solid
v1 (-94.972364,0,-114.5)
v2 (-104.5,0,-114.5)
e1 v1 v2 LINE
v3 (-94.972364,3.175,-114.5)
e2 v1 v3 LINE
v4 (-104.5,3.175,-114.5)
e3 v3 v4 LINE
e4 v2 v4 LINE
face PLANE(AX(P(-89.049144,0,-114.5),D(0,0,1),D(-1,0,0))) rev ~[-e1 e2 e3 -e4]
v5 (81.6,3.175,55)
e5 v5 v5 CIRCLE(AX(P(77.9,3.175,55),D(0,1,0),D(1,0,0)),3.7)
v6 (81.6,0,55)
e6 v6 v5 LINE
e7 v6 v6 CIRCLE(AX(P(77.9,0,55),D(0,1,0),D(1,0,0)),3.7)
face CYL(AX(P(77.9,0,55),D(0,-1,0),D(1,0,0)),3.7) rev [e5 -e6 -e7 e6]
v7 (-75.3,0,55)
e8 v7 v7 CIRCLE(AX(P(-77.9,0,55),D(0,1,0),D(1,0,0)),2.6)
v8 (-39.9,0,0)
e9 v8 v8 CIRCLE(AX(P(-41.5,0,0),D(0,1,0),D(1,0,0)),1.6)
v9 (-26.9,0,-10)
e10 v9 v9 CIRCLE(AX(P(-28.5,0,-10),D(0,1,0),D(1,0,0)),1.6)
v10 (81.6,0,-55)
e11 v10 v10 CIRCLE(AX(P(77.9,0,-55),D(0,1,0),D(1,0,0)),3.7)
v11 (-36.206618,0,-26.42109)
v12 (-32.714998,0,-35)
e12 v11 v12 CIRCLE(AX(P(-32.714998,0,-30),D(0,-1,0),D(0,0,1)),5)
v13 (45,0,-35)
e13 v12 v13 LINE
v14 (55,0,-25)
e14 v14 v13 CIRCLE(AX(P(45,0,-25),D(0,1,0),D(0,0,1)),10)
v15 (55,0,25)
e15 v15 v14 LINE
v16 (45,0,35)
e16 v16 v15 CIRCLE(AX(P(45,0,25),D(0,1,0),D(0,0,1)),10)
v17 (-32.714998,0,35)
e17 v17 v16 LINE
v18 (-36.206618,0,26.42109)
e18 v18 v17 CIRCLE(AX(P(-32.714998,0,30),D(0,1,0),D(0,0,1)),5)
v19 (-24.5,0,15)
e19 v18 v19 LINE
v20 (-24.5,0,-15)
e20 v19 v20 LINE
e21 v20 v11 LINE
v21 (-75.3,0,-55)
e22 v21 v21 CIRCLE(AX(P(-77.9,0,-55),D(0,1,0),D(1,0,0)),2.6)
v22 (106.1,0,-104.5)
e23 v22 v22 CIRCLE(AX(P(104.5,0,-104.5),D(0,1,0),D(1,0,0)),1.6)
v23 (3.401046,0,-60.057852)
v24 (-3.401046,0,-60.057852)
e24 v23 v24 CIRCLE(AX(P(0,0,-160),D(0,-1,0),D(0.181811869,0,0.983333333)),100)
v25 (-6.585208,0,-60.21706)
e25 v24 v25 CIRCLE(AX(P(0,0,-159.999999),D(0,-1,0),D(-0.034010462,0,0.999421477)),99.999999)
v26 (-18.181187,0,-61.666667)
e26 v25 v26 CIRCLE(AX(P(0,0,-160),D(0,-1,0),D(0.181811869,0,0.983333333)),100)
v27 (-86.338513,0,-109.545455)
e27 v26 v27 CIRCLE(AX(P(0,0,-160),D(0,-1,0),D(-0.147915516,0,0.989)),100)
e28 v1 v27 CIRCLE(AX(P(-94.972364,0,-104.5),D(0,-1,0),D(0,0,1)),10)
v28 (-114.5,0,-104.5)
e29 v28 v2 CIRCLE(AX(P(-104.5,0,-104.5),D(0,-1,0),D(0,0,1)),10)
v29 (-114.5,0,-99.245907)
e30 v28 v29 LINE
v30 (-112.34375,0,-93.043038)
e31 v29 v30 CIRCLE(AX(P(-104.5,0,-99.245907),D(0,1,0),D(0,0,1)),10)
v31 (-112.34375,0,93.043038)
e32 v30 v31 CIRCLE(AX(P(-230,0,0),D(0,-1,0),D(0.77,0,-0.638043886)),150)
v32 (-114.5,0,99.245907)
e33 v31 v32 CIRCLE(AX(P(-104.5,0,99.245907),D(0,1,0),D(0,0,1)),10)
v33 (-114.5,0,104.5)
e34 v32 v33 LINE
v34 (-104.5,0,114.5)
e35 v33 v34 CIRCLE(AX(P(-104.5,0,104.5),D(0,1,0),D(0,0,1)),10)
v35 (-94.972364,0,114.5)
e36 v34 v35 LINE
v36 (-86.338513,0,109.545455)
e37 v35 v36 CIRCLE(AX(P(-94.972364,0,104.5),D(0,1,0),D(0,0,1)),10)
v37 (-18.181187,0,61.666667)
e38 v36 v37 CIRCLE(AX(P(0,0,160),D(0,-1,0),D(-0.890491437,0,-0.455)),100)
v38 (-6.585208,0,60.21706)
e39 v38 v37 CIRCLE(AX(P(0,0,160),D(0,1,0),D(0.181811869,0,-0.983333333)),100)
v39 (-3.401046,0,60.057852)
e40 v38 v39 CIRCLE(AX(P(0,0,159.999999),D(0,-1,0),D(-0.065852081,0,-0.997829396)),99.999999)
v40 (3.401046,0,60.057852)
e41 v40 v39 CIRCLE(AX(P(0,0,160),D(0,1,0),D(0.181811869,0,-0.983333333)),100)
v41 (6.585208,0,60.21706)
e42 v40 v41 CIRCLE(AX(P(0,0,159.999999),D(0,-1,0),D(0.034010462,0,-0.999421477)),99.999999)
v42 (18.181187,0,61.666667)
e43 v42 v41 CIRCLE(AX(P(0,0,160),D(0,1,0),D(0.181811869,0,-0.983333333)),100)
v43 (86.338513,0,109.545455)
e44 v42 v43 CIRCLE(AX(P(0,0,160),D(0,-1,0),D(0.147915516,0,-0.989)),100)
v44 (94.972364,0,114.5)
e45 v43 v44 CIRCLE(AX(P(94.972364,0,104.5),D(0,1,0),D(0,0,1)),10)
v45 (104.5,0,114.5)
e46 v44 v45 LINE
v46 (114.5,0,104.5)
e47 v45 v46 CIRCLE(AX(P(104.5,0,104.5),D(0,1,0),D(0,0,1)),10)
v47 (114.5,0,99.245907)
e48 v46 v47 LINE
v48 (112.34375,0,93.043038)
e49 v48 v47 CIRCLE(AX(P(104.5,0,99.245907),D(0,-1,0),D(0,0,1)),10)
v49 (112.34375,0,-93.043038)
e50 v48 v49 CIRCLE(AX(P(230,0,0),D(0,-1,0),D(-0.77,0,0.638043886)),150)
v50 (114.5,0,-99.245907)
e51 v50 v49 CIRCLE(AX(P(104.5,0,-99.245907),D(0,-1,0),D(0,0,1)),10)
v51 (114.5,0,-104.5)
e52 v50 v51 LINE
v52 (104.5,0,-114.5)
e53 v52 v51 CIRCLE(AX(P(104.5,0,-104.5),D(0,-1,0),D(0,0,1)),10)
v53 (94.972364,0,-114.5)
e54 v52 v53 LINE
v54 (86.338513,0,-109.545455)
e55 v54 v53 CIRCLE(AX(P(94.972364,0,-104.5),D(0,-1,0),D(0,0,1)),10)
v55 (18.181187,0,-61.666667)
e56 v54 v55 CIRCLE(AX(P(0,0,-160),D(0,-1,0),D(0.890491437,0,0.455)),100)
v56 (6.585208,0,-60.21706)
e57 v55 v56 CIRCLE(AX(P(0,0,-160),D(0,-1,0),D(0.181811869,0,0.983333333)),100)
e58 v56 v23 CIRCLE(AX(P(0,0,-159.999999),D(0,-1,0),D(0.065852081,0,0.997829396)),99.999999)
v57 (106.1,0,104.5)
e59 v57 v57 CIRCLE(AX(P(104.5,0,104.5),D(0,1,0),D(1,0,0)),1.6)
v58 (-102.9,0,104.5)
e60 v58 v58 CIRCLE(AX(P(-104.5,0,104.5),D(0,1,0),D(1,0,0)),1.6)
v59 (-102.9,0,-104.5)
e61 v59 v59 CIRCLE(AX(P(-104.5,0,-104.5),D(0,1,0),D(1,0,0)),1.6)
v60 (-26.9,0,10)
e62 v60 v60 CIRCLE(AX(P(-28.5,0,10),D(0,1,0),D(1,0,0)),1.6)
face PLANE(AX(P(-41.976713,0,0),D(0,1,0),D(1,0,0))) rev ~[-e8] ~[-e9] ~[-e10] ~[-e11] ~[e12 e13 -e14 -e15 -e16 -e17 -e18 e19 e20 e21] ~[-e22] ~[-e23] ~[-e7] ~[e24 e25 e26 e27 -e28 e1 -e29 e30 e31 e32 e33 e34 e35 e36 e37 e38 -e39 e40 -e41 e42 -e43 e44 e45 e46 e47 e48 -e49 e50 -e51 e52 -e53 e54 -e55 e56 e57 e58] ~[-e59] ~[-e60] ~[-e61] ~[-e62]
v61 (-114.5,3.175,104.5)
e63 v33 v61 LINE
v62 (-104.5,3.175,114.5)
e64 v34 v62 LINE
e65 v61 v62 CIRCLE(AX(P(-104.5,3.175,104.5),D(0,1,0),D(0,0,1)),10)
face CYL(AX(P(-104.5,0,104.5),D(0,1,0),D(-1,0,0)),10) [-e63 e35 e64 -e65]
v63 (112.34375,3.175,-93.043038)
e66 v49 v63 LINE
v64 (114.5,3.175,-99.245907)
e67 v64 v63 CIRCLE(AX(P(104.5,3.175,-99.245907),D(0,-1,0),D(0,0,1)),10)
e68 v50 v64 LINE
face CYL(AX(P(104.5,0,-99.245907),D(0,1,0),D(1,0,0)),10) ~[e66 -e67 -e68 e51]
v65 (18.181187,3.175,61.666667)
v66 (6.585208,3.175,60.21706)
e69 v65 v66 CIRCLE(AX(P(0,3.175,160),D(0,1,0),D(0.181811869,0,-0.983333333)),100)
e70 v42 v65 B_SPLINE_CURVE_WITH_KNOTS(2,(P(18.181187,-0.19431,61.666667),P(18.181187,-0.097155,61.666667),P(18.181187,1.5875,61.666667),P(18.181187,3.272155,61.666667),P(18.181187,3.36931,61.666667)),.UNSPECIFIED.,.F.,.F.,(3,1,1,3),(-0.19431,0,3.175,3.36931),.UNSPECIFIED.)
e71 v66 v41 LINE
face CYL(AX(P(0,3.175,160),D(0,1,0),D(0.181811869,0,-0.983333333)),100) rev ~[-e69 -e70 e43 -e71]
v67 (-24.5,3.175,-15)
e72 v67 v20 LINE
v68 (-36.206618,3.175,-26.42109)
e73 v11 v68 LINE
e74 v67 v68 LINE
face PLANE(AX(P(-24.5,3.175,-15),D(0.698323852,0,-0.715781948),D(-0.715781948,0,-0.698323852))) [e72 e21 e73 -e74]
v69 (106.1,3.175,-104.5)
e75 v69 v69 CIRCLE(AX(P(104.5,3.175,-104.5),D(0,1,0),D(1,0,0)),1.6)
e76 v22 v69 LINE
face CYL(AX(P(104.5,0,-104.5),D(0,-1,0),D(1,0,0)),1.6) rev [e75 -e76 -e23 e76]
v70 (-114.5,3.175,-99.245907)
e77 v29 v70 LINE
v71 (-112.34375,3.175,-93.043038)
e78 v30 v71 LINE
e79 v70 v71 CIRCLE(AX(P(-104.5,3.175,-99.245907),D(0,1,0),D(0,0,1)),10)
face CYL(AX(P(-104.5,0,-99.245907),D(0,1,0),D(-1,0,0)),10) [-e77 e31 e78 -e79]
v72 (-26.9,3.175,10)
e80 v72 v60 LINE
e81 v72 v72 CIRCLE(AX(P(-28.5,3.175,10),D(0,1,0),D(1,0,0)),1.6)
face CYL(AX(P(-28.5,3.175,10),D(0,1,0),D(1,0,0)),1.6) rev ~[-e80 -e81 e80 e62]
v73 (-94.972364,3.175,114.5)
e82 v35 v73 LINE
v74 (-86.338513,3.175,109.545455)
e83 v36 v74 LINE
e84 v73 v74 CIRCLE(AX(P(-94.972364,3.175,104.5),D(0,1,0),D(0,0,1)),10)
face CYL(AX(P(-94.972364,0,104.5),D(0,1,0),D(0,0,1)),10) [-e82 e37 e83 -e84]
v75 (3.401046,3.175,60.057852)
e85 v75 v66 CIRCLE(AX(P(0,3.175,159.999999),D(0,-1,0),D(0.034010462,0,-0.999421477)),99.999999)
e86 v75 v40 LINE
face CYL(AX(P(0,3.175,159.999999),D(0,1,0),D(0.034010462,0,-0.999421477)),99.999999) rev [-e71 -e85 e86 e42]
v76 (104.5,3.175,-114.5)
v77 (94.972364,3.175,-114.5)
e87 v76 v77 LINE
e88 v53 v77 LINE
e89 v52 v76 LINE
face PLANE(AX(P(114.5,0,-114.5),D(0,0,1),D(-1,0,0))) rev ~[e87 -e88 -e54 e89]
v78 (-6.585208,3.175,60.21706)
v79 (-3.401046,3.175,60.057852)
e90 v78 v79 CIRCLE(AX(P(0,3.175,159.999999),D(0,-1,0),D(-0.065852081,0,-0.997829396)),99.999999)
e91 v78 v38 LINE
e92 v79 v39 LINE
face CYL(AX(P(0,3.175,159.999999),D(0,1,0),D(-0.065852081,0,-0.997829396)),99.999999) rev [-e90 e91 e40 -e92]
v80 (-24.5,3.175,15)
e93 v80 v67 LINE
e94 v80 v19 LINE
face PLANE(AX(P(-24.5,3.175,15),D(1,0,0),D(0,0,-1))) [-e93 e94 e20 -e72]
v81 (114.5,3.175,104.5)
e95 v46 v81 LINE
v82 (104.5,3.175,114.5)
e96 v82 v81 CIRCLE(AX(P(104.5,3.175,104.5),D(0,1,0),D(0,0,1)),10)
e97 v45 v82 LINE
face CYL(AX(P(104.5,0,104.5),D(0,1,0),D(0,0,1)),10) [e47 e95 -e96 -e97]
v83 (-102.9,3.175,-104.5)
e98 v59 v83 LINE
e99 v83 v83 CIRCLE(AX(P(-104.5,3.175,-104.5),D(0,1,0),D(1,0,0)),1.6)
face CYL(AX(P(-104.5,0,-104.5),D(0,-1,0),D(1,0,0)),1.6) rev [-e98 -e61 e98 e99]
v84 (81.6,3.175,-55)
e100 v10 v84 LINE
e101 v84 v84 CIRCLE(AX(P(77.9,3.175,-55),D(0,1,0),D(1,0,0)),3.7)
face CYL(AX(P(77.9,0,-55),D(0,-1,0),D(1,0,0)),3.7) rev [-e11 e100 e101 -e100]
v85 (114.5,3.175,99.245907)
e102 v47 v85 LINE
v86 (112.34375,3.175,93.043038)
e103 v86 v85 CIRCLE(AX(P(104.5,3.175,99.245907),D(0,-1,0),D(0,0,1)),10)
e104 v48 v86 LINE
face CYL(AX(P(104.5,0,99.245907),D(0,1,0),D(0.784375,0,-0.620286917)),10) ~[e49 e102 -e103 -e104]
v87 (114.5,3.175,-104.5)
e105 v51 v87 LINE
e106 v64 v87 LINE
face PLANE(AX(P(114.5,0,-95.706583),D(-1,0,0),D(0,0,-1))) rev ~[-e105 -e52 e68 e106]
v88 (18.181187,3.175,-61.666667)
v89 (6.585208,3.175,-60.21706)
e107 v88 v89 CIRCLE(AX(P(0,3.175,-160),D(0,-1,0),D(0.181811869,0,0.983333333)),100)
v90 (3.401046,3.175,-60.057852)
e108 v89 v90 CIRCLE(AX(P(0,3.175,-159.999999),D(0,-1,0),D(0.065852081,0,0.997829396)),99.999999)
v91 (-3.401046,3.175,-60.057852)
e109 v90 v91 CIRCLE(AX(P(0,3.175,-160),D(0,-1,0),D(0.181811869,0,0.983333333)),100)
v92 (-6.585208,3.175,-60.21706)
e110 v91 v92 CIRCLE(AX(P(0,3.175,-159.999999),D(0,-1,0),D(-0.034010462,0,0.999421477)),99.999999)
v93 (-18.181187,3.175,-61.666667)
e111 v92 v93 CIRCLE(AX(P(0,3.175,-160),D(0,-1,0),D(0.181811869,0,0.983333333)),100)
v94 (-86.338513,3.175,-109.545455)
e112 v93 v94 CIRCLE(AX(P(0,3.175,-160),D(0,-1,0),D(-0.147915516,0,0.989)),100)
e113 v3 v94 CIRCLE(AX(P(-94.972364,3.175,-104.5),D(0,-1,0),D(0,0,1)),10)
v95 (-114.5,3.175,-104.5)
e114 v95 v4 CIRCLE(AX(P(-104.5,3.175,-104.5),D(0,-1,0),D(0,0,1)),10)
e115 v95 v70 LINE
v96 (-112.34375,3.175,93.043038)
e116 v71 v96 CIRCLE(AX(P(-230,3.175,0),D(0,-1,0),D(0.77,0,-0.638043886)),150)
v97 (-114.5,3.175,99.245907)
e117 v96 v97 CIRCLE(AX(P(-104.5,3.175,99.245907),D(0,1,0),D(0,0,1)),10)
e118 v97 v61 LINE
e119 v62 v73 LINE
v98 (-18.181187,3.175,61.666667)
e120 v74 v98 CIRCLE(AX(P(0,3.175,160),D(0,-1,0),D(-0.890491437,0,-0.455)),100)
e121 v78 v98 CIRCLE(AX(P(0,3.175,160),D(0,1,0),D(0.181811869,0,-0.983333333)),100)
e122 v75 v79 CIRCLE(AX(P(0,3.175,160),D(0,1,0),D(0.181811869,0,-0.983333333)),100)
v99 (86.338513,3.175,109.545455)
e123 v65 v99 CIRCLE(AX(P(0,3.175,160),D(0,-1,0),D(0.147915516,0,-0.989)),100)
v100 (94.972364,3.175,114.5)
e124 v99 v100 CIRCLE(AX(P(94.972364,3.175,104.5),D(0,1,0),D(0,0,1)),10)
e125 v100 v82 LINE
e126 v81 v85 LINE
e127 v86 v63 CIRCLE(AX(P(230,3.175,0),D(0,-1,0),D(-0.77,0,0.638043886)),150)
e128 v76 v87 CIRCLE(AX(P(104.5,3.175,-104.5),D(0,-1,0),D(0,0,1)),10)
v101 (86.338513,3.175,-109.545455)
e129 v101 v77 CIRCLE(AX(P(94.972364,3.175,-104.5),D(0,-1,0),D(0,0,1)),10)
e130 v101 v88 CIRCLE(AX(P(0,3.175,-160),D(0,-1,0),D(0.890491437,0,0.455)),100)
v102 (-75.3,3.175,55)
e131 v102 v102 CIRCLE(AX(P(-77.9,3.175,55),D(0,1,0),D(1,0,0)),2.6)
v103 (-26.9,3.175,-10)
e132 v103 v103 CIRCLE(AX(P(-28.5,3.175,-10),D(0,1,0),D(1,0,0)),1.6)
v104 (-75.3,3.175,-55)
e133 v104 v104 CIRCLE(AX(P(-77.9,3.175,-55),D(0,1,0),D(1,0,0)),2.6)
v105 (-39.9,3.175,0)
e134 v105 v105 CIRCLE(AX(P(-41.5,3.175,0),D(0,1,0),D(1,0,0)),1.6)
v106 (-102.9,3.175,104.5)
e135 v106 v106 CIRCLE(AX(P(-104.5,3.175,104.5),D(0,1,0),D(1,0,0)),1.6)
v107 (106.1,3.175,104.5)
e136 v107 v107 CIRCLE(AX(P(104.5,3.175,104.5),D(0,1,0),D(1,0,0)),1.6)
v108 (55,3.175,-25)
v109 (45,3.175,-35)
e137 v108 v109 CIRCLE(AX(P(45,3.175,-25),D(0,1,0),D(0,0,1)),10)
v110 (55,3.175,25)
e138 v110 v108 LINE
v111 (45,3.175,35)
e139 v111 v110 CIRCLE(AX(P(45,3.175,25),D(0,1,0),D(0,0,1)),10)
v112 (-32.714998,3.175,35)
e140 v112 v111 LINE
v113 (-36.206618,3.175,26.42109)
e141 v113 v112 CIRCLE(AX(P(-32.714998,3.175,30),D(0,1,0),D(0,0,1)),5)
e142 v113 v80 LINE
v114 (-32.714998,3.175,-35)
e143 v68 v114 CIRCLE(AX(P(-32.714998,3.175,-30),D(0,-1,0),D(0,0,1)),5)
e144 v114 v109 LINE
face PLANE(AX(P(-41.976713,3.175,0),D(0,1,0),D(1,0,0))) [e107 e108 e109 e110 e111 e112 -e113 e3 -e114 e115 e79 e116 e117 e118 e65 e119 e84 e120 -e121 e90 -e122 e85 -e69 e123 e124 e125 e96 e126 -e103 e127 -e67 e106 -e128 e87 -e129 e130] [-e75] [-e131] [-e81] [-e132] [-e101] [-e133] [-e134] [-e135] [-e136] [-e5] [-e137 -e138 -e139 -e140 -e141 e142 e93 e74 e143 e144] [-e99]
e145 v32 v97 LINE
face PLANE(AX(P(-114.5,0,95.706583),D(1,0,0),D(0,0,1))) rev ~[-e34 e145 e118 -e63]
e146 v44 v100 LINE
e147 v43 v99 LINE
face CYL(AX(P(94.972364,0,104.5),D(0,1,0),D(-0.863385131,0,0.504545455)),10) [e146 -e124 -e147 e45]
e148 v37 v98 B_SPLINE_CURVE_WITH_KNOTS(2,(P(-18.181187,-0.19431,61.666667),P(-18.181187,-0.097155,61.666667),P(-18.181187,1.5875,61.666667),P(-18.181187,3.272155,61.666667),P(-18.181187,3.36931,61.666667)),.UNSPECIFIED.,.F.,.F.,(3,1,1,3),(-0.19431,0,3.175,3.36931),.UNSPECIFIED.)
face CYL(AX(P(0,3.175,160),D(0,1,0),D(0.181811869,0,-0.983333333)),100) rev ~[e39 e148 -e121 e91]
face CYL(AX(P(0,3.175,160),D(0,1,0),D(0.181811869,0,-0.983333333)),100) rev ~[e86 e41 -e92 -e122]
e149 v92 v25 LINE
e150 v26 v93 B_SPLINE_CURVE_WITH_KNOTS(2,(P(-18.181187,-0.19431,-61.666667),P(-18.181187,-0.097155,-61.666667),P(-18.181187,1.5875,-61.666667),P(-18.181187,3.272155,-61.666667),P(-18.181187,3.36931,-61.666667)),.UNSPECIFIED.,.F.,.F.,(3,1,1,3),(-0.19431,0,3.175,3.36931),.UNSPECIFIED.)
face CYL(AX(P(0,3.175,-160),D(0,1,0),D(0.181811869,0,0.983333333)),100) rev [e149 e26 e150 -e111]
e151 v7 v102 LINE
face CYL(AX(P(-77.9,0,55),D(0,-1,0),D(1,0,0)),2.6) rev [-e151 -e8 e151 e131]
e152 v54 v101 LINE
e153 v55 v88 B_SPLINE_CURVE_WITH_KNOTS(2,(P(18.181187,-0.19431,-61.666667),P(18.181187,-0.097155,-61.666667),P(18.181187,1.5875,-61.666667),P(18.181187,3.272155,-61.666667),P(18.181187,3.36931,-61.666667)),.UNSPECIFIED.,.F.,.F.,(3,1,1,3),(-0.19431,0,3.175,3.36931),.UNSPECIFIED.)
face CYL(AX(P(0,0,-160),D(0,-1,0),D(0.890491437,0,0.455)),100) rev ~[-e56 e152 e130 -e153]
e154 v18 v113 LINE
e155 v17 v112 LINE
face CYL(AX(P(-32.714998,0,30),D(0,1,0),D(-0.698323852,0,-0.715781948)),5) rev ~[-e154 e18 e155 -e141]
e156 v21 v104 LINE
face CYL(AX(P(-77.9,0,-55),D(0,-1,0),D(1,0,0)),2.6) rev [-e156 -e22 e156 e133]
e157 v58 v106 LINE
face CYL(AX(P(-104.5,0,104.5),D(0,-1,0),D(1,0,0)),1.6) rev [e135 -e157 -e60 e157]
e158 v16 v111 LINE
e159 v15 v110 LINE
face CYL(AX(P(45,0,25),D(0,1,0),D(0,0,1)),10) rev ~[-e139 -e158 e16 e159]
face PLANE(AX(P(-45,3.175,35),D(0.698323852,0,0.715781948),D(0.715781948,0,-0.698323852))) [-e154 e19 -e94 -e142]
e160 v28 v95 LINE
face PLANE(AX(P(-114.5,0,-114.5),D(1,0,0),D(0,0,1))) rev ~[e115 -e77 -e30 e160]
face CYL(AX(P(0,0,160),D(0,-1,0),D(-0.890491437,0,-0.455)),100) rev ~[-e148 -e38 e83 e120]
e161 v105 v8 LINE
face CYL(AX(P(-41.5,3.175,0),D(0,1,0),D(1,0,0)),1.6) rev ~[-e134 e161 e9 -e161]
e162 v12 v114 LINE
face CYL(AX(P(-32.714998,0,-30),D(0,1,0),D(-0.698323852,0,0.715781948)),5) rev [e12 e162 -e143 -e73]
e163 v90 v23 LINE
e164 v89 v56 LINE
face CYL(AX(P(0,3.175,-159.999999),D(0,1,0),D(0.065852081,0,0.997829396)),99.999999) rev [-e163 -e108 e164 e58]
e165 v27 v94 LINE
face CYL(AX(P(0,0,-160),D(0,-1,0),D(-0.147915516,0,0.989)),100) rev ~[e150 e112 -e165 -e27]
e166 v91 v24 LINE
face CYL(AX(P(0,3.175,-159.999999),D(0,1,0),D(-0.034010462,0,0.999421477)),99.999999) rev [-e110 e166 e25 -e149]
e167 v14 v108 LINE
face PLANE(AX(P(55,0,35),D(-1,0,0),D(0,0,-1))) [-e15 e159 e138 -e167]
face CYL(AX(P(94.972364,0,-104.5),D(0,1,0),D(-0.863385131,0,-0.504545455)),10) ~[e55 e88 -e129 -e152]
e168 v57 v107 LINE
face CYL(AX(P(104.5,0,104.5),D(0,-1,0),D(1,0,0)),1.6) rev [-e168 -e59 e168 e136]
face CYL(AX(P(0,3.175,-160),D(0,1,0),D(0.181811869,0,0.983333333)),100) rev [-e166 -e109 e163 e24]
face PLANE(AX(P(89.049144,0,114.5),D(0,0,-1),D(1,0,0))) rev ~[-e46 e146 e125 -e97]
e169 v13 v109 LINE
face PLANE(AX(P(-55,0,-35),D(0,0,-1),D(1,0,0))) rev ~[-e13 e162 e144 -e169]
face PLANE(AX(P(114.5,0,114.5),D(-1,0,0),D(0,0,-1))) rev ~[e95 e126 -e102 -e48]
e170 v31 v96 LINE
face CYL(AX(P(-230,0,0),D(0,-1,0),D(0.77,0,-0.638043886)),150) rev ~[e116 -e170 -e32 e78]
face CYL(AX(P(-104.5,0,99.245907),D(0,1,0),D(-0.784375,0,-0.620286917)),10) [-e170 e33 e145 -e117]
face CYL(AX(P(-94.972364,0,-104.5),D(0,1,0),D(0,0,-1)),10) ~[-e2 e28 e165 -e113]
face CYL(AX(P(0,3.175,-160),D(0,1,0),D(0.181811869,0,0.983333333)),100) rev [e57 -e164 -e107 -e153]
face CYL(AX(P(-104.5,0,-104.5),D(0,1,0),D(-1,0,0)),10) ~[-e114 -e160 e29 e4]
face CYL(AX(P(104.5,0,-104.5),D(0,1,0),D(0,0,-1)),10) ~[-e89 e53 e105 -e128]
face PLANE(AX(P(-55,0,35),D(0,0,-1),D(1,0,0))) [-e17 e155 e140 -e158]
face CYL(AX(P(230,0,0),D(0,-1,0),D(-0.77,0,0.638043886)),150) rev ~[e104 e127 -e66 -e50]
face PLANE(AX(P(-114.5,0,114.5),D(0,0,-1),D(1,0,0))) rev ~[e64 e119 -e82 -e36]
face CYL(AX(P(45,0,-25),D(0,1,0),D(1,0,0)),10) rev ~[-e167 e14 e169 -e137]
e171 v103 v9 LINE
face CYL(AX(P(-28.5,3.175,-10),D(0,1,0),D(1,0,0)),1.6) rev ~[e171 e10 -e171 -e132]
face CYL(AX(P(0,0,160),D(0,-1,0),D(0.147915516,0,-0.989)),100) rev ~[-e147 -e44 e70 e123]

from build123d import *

# Parameters (mm, degrees)
SKETCH1_R           = 3.7
SKETCH1_R_2         = 1.6
SKETCH1_R_3         = 2.6
SKETCH1_W           = 110
SKETCH1_H           = 70
BOSS_EXTRUDE1_DEPTH = 3.175
FILLET1_R           = 10
CUT_EXTRUDE1_DEPTH  = 3.175
SKETCH3_3_R         = 1.6
BOSS_EXTRUDE2_DEPTH = 3.175
SKETCH4_R           = 1.6
BOSS_EXTRUDE3_DEPTH = 3.175
FILLET2_R           = 5


with BuildPart() as part:
    # Sketch1 → Boss-Extrude1 (new body)
    with BuildSketch(Plane(origin=(0, 0, 0), x_dir=(1, 0, 0), z_dir=(0, 1, 0))):
        with BuildLine():
            Line((-114.5, 114.5), (-114.5, 95.706582846))
            ThreePointArc((-114.5, 95.706582846), (-80, 0), (-114.5, -95.706582846))
            Line((-114.5, -95.706582846), (-114.5, -114.5))
            Line((-114.5, -114.5), (-89.049143735, -114.5))
            ThreePointArc((-89.049143735, -114.5), (-58.383323853, -78.812639556), (-14.791551643, -61.1))
            ThreePointArc((-14.791551643, -61.1), (0, -65), (14.791551643, -61.1))
            ThreePointArc((14.791551643, -61.1), (58.383323853, -78.812639556), (89.049143735, -114.5))
            Line((89.049143735, -114.5), (114.5, -114.5))
            Line((114.5, -114.5), (114.5, -95.706582846))
            ThreePointArc((114.5, -95.706582846), (80, 0), (114.5, 95.706582846))
            Line((114.5, 95.706582846), (114.5, 114.5))
            Line((114.5, 114.5), (89.049143735, 114.5))
            ThreePointArc((89.049143735, 114.5), (58.383323853, 78.812639556), (14.791551643, 61.1))
            ThreePointArc((14.791551643, 61.1), (0, 65), (-14.791551643, 61.1))
            ThreePointArc((-14.791551643, 61.1), (-58.383323853, 78.812639556), (-89.049143735, 114.5))
            Line((-89.049143735, 114.5), (-114.5, 114.5))
        make_face()
        with Locations((77.9, 55)):
            Circle(SKETCH1_R, mode=Mode.SUBTRACT)
        with Locations((-10, 50)):
            Circle(SKETCH1_R_2, mode=Mode.SUBTRACT)
        with Locations((-104.5, 104.5)):
            Circle(SKETCH1_R_2, mode=Mode.SUBTRACT)
        with Locations((-5, 60)):
            Circle(SKETCH1_R_2, mode=Mode.SUBTRACT)
        with Locations((77.9, -55)):
            Circle(SKETCH1_R, mode=Mode.SUBTRACT)
        with Locations((-77.9, 55)):
            Circle(SKETCH1_R_3, mode=Mode.SUBTRACT)
        with Locations((-104.5, -104.5)):
            Circle(SKETCH1_R_2, mode=Mode.SUBTRACT)
        with Locations((-77.9, -55)):
            Circle(SKETCH1_R_3, mode=Mode.SUBTRACT)
        with Locations((-10, -50)):
            Circle(SKETCH1_R_2, mode=Mode.SUBTRACT)
        with Locations((-5, -60)):
            Circle(SKETCH1_R_2, mode=Mode.SUBTRACT)
        with Locations((104.5, -104.5)):
            Circle(SKETCH1_R_2, mode=Mode.SUBTRACT)
        with Locations((5, -60)):
            Circle(SKETCH1_R_2, mode=Mode.SUBTRACT)
        with Locations((10, -50)):
            Circle(SKETCH1_R_2, mode=Mode.SUBTRACT)
        with Locations((104.5, 104.5)):
            Circle(SKETCH1_R_2, mode=Mode.SUBTRACT)
        with Locations((10, 50)):
            Circle(SKETCH1_R_2, mode=Mode.SUBTRACT)
        with Locations((5, 60)):
            Circle(SKETCH1_R_2, mode=Mode.SUBTRACT)
        Rectangle(SKETCH1_W, SKETCH1_H, mode=Mode.SUBTRACT)
    extrude(amount=BOSS_EXTRUDE1_DEPTH)

    # Fillet1
    fillet1_edges = [part.edges().sort_by_distance(p)[0] for p in [
        (-114.5, 1.5875, 114.5),
        (-114.5, 1.5875, 95.706582846),
        (-114.5, 1.5875, -95.706582846),
        (-114.5, 1.5875, -114.5),
        (-89.049143735, 1.5875, -114.5),
        (-14.791551643, 1.5875, -61.1),
        (14.791551643, 1.5875, -61.1),
        (89.049143735, 1.5875, -114.5),
        (114.5, 1.5875, -114.5),
        (114.5, 1.5875, -95.706582846),
        (114.5, 1.5875, 95.706582846),
        (114.5, 1.5875, 114.5),
        (89.049143735, 1.5875, 114.5),
        (14.791551643, 1.5875, 61.1),
        (-14.791551643, 1.5875, 61.1),
        (-89.049143735, 1.5875, 114.5),
        (-55, 1.5875, -35),
        (-55, 1.5875, 35),
        (55, 1.5875, 35),
        (55, 1.5875, -35),
    ]]
    fillet(fillet1_edges, radius=FILLET1_R)

    # Sketch3 → Cut-Extrude1 (cut)
    with BuildSketch(Plane(origin=(0, 3.175, 0), x_dir=(1, 0, 0), z_dir=(0, 1, 0))):
        with BuildLine():
            Line((-86.338513092, -109.545454545), (86.338513092, -109.545454545))
            ThreePointArc((86.338513092, -109.545454545), (57.482053735, -78.172049406), (18.181186858, -61.666666667))
            ThreePointArc((18.181186858, -61.666666667), (-41.646726907, -69.084928983), (-86.338513092, -109.545454545))
        make_face()
        with BuildLine():
            Line((-86.338513092, 109.545454545), (86.338513092, 109.545454545))
            ThreePointArc((86.338513092, 109.545454545), (57.482053735, 78.172049406), (18.181186858, 61.666666667))
            ThreePointArc((18.181186858, 61.666666667), (-41.646726907, 69.084928983), (-86.338513092, 109.545454545))
        make_face()
    extrude(amount=-CUT_EXTRUDE1_DEPTH, mode=Mode.SUBTRACT)

    # Sketch3<3> → Boss-Extrude2 (add)
    with BuildSketch(Plane(origin=(0, 3.175, 0), x_dir=(1, 0, 0), z_dir=(0, 1, 0))):
        with BuildLine():
            ThreePointArc((-3.401046245, -60.057852312), (-5.079900187, -58.401996258), (-6.585208119, -60.217060406))
            ThreePointArc((-6.585208119, -60.217060406), (-4.993761694, -60.124766112), (-3.401046245, -60.057852312))
        make_face()
        with BuildLine():
            ThreePointArc((3.401046245, -60.057852312), (4.993761694, -60.124766112), (6.585208119, -60.217060406))
            ThreePointArc((6.585208119, -60.217060406), (5.079900187, -58.401996258), (3.401046245, -60.057852312))
        make_face()
        with BuildLine():
            ThreePointArc((-3.401046245, 60.057852312), (-4.993761694, 60.124766112), (-6.585208119, 60.217060406))
            ThreePointArc((-6.585208119, 60.217060406), (-5.079900187, 58.401996258), (-3.401046245, 60.057852312))
        make_face()
        with BuildLine():
            ThreePointArc((3.401046245, 60.057852312), (5.079900187, 58.401996258), (6.585208119, 60.217060406))
            ThreePointArc((6.585208119, 60.217060406), (4.993761694, 60.124766112), (3.401046245, 60.057852312))
        make_face()
        with Locations((10, 50)):
            Circle(SKETCH3_3_R)
        with Locations((-10, 50)):
            Circle(SKETCH3_3_R)
        with Locations((-10, -50)):
            Circle(SKETCH3_3_R)
        with Locations((10, -50)):
            Circle(SKETCH3_3_R)
    extrude(amount=-BOSS_EXTRUDE2_DEPTH)

    # Sketch4 → Boss-Extrude3 (add)
    with BuildSketch(Plane(origin=(0, 3.175, 0), x_dir=(1, 0, 0), z_dir=(0, 1, 0))):
        with BuildLine():
            Line((-24.5, -15), (-24.5, 15))
            Line((-24.5, 15), (-45, 35))
            ThreePointArc((-45, 35), (-52.071067812, 32.071067812), (-55, 25))
            Line((-55, 25), (-55, -25))
            ThreePointArc((-55, -25), (-52.071067812, -32.071067812), (-45, -35))
            Line((-45, -35), (-24.5, -15))
        make_face()
        with Locations((-28.5, 10)):
            Circle(SKETCH4_R, mode=Mode.SUBTRACT)
        with Locations((-28.5, -10)):
            Circle(SKETCH4_R, mode=Mode.SUBTRACT)
        with Locations((-41.5, 0)):
            Circle(SKETCH4_R, mode=Mode.SUBTRACT)
    extrude(amount=-BOSS_EXTRUDE3_DEPTH)

    # Fillet2
    fillet2_edges = [part.edges().sort_by_distance(p)[0] for p in [
        (-45, 1.5875, 35),
        (-45, 1.5875, -35),
    ]]
    fillet(fillet2_edges, radius=FILLET2_R)


solid = part.part
